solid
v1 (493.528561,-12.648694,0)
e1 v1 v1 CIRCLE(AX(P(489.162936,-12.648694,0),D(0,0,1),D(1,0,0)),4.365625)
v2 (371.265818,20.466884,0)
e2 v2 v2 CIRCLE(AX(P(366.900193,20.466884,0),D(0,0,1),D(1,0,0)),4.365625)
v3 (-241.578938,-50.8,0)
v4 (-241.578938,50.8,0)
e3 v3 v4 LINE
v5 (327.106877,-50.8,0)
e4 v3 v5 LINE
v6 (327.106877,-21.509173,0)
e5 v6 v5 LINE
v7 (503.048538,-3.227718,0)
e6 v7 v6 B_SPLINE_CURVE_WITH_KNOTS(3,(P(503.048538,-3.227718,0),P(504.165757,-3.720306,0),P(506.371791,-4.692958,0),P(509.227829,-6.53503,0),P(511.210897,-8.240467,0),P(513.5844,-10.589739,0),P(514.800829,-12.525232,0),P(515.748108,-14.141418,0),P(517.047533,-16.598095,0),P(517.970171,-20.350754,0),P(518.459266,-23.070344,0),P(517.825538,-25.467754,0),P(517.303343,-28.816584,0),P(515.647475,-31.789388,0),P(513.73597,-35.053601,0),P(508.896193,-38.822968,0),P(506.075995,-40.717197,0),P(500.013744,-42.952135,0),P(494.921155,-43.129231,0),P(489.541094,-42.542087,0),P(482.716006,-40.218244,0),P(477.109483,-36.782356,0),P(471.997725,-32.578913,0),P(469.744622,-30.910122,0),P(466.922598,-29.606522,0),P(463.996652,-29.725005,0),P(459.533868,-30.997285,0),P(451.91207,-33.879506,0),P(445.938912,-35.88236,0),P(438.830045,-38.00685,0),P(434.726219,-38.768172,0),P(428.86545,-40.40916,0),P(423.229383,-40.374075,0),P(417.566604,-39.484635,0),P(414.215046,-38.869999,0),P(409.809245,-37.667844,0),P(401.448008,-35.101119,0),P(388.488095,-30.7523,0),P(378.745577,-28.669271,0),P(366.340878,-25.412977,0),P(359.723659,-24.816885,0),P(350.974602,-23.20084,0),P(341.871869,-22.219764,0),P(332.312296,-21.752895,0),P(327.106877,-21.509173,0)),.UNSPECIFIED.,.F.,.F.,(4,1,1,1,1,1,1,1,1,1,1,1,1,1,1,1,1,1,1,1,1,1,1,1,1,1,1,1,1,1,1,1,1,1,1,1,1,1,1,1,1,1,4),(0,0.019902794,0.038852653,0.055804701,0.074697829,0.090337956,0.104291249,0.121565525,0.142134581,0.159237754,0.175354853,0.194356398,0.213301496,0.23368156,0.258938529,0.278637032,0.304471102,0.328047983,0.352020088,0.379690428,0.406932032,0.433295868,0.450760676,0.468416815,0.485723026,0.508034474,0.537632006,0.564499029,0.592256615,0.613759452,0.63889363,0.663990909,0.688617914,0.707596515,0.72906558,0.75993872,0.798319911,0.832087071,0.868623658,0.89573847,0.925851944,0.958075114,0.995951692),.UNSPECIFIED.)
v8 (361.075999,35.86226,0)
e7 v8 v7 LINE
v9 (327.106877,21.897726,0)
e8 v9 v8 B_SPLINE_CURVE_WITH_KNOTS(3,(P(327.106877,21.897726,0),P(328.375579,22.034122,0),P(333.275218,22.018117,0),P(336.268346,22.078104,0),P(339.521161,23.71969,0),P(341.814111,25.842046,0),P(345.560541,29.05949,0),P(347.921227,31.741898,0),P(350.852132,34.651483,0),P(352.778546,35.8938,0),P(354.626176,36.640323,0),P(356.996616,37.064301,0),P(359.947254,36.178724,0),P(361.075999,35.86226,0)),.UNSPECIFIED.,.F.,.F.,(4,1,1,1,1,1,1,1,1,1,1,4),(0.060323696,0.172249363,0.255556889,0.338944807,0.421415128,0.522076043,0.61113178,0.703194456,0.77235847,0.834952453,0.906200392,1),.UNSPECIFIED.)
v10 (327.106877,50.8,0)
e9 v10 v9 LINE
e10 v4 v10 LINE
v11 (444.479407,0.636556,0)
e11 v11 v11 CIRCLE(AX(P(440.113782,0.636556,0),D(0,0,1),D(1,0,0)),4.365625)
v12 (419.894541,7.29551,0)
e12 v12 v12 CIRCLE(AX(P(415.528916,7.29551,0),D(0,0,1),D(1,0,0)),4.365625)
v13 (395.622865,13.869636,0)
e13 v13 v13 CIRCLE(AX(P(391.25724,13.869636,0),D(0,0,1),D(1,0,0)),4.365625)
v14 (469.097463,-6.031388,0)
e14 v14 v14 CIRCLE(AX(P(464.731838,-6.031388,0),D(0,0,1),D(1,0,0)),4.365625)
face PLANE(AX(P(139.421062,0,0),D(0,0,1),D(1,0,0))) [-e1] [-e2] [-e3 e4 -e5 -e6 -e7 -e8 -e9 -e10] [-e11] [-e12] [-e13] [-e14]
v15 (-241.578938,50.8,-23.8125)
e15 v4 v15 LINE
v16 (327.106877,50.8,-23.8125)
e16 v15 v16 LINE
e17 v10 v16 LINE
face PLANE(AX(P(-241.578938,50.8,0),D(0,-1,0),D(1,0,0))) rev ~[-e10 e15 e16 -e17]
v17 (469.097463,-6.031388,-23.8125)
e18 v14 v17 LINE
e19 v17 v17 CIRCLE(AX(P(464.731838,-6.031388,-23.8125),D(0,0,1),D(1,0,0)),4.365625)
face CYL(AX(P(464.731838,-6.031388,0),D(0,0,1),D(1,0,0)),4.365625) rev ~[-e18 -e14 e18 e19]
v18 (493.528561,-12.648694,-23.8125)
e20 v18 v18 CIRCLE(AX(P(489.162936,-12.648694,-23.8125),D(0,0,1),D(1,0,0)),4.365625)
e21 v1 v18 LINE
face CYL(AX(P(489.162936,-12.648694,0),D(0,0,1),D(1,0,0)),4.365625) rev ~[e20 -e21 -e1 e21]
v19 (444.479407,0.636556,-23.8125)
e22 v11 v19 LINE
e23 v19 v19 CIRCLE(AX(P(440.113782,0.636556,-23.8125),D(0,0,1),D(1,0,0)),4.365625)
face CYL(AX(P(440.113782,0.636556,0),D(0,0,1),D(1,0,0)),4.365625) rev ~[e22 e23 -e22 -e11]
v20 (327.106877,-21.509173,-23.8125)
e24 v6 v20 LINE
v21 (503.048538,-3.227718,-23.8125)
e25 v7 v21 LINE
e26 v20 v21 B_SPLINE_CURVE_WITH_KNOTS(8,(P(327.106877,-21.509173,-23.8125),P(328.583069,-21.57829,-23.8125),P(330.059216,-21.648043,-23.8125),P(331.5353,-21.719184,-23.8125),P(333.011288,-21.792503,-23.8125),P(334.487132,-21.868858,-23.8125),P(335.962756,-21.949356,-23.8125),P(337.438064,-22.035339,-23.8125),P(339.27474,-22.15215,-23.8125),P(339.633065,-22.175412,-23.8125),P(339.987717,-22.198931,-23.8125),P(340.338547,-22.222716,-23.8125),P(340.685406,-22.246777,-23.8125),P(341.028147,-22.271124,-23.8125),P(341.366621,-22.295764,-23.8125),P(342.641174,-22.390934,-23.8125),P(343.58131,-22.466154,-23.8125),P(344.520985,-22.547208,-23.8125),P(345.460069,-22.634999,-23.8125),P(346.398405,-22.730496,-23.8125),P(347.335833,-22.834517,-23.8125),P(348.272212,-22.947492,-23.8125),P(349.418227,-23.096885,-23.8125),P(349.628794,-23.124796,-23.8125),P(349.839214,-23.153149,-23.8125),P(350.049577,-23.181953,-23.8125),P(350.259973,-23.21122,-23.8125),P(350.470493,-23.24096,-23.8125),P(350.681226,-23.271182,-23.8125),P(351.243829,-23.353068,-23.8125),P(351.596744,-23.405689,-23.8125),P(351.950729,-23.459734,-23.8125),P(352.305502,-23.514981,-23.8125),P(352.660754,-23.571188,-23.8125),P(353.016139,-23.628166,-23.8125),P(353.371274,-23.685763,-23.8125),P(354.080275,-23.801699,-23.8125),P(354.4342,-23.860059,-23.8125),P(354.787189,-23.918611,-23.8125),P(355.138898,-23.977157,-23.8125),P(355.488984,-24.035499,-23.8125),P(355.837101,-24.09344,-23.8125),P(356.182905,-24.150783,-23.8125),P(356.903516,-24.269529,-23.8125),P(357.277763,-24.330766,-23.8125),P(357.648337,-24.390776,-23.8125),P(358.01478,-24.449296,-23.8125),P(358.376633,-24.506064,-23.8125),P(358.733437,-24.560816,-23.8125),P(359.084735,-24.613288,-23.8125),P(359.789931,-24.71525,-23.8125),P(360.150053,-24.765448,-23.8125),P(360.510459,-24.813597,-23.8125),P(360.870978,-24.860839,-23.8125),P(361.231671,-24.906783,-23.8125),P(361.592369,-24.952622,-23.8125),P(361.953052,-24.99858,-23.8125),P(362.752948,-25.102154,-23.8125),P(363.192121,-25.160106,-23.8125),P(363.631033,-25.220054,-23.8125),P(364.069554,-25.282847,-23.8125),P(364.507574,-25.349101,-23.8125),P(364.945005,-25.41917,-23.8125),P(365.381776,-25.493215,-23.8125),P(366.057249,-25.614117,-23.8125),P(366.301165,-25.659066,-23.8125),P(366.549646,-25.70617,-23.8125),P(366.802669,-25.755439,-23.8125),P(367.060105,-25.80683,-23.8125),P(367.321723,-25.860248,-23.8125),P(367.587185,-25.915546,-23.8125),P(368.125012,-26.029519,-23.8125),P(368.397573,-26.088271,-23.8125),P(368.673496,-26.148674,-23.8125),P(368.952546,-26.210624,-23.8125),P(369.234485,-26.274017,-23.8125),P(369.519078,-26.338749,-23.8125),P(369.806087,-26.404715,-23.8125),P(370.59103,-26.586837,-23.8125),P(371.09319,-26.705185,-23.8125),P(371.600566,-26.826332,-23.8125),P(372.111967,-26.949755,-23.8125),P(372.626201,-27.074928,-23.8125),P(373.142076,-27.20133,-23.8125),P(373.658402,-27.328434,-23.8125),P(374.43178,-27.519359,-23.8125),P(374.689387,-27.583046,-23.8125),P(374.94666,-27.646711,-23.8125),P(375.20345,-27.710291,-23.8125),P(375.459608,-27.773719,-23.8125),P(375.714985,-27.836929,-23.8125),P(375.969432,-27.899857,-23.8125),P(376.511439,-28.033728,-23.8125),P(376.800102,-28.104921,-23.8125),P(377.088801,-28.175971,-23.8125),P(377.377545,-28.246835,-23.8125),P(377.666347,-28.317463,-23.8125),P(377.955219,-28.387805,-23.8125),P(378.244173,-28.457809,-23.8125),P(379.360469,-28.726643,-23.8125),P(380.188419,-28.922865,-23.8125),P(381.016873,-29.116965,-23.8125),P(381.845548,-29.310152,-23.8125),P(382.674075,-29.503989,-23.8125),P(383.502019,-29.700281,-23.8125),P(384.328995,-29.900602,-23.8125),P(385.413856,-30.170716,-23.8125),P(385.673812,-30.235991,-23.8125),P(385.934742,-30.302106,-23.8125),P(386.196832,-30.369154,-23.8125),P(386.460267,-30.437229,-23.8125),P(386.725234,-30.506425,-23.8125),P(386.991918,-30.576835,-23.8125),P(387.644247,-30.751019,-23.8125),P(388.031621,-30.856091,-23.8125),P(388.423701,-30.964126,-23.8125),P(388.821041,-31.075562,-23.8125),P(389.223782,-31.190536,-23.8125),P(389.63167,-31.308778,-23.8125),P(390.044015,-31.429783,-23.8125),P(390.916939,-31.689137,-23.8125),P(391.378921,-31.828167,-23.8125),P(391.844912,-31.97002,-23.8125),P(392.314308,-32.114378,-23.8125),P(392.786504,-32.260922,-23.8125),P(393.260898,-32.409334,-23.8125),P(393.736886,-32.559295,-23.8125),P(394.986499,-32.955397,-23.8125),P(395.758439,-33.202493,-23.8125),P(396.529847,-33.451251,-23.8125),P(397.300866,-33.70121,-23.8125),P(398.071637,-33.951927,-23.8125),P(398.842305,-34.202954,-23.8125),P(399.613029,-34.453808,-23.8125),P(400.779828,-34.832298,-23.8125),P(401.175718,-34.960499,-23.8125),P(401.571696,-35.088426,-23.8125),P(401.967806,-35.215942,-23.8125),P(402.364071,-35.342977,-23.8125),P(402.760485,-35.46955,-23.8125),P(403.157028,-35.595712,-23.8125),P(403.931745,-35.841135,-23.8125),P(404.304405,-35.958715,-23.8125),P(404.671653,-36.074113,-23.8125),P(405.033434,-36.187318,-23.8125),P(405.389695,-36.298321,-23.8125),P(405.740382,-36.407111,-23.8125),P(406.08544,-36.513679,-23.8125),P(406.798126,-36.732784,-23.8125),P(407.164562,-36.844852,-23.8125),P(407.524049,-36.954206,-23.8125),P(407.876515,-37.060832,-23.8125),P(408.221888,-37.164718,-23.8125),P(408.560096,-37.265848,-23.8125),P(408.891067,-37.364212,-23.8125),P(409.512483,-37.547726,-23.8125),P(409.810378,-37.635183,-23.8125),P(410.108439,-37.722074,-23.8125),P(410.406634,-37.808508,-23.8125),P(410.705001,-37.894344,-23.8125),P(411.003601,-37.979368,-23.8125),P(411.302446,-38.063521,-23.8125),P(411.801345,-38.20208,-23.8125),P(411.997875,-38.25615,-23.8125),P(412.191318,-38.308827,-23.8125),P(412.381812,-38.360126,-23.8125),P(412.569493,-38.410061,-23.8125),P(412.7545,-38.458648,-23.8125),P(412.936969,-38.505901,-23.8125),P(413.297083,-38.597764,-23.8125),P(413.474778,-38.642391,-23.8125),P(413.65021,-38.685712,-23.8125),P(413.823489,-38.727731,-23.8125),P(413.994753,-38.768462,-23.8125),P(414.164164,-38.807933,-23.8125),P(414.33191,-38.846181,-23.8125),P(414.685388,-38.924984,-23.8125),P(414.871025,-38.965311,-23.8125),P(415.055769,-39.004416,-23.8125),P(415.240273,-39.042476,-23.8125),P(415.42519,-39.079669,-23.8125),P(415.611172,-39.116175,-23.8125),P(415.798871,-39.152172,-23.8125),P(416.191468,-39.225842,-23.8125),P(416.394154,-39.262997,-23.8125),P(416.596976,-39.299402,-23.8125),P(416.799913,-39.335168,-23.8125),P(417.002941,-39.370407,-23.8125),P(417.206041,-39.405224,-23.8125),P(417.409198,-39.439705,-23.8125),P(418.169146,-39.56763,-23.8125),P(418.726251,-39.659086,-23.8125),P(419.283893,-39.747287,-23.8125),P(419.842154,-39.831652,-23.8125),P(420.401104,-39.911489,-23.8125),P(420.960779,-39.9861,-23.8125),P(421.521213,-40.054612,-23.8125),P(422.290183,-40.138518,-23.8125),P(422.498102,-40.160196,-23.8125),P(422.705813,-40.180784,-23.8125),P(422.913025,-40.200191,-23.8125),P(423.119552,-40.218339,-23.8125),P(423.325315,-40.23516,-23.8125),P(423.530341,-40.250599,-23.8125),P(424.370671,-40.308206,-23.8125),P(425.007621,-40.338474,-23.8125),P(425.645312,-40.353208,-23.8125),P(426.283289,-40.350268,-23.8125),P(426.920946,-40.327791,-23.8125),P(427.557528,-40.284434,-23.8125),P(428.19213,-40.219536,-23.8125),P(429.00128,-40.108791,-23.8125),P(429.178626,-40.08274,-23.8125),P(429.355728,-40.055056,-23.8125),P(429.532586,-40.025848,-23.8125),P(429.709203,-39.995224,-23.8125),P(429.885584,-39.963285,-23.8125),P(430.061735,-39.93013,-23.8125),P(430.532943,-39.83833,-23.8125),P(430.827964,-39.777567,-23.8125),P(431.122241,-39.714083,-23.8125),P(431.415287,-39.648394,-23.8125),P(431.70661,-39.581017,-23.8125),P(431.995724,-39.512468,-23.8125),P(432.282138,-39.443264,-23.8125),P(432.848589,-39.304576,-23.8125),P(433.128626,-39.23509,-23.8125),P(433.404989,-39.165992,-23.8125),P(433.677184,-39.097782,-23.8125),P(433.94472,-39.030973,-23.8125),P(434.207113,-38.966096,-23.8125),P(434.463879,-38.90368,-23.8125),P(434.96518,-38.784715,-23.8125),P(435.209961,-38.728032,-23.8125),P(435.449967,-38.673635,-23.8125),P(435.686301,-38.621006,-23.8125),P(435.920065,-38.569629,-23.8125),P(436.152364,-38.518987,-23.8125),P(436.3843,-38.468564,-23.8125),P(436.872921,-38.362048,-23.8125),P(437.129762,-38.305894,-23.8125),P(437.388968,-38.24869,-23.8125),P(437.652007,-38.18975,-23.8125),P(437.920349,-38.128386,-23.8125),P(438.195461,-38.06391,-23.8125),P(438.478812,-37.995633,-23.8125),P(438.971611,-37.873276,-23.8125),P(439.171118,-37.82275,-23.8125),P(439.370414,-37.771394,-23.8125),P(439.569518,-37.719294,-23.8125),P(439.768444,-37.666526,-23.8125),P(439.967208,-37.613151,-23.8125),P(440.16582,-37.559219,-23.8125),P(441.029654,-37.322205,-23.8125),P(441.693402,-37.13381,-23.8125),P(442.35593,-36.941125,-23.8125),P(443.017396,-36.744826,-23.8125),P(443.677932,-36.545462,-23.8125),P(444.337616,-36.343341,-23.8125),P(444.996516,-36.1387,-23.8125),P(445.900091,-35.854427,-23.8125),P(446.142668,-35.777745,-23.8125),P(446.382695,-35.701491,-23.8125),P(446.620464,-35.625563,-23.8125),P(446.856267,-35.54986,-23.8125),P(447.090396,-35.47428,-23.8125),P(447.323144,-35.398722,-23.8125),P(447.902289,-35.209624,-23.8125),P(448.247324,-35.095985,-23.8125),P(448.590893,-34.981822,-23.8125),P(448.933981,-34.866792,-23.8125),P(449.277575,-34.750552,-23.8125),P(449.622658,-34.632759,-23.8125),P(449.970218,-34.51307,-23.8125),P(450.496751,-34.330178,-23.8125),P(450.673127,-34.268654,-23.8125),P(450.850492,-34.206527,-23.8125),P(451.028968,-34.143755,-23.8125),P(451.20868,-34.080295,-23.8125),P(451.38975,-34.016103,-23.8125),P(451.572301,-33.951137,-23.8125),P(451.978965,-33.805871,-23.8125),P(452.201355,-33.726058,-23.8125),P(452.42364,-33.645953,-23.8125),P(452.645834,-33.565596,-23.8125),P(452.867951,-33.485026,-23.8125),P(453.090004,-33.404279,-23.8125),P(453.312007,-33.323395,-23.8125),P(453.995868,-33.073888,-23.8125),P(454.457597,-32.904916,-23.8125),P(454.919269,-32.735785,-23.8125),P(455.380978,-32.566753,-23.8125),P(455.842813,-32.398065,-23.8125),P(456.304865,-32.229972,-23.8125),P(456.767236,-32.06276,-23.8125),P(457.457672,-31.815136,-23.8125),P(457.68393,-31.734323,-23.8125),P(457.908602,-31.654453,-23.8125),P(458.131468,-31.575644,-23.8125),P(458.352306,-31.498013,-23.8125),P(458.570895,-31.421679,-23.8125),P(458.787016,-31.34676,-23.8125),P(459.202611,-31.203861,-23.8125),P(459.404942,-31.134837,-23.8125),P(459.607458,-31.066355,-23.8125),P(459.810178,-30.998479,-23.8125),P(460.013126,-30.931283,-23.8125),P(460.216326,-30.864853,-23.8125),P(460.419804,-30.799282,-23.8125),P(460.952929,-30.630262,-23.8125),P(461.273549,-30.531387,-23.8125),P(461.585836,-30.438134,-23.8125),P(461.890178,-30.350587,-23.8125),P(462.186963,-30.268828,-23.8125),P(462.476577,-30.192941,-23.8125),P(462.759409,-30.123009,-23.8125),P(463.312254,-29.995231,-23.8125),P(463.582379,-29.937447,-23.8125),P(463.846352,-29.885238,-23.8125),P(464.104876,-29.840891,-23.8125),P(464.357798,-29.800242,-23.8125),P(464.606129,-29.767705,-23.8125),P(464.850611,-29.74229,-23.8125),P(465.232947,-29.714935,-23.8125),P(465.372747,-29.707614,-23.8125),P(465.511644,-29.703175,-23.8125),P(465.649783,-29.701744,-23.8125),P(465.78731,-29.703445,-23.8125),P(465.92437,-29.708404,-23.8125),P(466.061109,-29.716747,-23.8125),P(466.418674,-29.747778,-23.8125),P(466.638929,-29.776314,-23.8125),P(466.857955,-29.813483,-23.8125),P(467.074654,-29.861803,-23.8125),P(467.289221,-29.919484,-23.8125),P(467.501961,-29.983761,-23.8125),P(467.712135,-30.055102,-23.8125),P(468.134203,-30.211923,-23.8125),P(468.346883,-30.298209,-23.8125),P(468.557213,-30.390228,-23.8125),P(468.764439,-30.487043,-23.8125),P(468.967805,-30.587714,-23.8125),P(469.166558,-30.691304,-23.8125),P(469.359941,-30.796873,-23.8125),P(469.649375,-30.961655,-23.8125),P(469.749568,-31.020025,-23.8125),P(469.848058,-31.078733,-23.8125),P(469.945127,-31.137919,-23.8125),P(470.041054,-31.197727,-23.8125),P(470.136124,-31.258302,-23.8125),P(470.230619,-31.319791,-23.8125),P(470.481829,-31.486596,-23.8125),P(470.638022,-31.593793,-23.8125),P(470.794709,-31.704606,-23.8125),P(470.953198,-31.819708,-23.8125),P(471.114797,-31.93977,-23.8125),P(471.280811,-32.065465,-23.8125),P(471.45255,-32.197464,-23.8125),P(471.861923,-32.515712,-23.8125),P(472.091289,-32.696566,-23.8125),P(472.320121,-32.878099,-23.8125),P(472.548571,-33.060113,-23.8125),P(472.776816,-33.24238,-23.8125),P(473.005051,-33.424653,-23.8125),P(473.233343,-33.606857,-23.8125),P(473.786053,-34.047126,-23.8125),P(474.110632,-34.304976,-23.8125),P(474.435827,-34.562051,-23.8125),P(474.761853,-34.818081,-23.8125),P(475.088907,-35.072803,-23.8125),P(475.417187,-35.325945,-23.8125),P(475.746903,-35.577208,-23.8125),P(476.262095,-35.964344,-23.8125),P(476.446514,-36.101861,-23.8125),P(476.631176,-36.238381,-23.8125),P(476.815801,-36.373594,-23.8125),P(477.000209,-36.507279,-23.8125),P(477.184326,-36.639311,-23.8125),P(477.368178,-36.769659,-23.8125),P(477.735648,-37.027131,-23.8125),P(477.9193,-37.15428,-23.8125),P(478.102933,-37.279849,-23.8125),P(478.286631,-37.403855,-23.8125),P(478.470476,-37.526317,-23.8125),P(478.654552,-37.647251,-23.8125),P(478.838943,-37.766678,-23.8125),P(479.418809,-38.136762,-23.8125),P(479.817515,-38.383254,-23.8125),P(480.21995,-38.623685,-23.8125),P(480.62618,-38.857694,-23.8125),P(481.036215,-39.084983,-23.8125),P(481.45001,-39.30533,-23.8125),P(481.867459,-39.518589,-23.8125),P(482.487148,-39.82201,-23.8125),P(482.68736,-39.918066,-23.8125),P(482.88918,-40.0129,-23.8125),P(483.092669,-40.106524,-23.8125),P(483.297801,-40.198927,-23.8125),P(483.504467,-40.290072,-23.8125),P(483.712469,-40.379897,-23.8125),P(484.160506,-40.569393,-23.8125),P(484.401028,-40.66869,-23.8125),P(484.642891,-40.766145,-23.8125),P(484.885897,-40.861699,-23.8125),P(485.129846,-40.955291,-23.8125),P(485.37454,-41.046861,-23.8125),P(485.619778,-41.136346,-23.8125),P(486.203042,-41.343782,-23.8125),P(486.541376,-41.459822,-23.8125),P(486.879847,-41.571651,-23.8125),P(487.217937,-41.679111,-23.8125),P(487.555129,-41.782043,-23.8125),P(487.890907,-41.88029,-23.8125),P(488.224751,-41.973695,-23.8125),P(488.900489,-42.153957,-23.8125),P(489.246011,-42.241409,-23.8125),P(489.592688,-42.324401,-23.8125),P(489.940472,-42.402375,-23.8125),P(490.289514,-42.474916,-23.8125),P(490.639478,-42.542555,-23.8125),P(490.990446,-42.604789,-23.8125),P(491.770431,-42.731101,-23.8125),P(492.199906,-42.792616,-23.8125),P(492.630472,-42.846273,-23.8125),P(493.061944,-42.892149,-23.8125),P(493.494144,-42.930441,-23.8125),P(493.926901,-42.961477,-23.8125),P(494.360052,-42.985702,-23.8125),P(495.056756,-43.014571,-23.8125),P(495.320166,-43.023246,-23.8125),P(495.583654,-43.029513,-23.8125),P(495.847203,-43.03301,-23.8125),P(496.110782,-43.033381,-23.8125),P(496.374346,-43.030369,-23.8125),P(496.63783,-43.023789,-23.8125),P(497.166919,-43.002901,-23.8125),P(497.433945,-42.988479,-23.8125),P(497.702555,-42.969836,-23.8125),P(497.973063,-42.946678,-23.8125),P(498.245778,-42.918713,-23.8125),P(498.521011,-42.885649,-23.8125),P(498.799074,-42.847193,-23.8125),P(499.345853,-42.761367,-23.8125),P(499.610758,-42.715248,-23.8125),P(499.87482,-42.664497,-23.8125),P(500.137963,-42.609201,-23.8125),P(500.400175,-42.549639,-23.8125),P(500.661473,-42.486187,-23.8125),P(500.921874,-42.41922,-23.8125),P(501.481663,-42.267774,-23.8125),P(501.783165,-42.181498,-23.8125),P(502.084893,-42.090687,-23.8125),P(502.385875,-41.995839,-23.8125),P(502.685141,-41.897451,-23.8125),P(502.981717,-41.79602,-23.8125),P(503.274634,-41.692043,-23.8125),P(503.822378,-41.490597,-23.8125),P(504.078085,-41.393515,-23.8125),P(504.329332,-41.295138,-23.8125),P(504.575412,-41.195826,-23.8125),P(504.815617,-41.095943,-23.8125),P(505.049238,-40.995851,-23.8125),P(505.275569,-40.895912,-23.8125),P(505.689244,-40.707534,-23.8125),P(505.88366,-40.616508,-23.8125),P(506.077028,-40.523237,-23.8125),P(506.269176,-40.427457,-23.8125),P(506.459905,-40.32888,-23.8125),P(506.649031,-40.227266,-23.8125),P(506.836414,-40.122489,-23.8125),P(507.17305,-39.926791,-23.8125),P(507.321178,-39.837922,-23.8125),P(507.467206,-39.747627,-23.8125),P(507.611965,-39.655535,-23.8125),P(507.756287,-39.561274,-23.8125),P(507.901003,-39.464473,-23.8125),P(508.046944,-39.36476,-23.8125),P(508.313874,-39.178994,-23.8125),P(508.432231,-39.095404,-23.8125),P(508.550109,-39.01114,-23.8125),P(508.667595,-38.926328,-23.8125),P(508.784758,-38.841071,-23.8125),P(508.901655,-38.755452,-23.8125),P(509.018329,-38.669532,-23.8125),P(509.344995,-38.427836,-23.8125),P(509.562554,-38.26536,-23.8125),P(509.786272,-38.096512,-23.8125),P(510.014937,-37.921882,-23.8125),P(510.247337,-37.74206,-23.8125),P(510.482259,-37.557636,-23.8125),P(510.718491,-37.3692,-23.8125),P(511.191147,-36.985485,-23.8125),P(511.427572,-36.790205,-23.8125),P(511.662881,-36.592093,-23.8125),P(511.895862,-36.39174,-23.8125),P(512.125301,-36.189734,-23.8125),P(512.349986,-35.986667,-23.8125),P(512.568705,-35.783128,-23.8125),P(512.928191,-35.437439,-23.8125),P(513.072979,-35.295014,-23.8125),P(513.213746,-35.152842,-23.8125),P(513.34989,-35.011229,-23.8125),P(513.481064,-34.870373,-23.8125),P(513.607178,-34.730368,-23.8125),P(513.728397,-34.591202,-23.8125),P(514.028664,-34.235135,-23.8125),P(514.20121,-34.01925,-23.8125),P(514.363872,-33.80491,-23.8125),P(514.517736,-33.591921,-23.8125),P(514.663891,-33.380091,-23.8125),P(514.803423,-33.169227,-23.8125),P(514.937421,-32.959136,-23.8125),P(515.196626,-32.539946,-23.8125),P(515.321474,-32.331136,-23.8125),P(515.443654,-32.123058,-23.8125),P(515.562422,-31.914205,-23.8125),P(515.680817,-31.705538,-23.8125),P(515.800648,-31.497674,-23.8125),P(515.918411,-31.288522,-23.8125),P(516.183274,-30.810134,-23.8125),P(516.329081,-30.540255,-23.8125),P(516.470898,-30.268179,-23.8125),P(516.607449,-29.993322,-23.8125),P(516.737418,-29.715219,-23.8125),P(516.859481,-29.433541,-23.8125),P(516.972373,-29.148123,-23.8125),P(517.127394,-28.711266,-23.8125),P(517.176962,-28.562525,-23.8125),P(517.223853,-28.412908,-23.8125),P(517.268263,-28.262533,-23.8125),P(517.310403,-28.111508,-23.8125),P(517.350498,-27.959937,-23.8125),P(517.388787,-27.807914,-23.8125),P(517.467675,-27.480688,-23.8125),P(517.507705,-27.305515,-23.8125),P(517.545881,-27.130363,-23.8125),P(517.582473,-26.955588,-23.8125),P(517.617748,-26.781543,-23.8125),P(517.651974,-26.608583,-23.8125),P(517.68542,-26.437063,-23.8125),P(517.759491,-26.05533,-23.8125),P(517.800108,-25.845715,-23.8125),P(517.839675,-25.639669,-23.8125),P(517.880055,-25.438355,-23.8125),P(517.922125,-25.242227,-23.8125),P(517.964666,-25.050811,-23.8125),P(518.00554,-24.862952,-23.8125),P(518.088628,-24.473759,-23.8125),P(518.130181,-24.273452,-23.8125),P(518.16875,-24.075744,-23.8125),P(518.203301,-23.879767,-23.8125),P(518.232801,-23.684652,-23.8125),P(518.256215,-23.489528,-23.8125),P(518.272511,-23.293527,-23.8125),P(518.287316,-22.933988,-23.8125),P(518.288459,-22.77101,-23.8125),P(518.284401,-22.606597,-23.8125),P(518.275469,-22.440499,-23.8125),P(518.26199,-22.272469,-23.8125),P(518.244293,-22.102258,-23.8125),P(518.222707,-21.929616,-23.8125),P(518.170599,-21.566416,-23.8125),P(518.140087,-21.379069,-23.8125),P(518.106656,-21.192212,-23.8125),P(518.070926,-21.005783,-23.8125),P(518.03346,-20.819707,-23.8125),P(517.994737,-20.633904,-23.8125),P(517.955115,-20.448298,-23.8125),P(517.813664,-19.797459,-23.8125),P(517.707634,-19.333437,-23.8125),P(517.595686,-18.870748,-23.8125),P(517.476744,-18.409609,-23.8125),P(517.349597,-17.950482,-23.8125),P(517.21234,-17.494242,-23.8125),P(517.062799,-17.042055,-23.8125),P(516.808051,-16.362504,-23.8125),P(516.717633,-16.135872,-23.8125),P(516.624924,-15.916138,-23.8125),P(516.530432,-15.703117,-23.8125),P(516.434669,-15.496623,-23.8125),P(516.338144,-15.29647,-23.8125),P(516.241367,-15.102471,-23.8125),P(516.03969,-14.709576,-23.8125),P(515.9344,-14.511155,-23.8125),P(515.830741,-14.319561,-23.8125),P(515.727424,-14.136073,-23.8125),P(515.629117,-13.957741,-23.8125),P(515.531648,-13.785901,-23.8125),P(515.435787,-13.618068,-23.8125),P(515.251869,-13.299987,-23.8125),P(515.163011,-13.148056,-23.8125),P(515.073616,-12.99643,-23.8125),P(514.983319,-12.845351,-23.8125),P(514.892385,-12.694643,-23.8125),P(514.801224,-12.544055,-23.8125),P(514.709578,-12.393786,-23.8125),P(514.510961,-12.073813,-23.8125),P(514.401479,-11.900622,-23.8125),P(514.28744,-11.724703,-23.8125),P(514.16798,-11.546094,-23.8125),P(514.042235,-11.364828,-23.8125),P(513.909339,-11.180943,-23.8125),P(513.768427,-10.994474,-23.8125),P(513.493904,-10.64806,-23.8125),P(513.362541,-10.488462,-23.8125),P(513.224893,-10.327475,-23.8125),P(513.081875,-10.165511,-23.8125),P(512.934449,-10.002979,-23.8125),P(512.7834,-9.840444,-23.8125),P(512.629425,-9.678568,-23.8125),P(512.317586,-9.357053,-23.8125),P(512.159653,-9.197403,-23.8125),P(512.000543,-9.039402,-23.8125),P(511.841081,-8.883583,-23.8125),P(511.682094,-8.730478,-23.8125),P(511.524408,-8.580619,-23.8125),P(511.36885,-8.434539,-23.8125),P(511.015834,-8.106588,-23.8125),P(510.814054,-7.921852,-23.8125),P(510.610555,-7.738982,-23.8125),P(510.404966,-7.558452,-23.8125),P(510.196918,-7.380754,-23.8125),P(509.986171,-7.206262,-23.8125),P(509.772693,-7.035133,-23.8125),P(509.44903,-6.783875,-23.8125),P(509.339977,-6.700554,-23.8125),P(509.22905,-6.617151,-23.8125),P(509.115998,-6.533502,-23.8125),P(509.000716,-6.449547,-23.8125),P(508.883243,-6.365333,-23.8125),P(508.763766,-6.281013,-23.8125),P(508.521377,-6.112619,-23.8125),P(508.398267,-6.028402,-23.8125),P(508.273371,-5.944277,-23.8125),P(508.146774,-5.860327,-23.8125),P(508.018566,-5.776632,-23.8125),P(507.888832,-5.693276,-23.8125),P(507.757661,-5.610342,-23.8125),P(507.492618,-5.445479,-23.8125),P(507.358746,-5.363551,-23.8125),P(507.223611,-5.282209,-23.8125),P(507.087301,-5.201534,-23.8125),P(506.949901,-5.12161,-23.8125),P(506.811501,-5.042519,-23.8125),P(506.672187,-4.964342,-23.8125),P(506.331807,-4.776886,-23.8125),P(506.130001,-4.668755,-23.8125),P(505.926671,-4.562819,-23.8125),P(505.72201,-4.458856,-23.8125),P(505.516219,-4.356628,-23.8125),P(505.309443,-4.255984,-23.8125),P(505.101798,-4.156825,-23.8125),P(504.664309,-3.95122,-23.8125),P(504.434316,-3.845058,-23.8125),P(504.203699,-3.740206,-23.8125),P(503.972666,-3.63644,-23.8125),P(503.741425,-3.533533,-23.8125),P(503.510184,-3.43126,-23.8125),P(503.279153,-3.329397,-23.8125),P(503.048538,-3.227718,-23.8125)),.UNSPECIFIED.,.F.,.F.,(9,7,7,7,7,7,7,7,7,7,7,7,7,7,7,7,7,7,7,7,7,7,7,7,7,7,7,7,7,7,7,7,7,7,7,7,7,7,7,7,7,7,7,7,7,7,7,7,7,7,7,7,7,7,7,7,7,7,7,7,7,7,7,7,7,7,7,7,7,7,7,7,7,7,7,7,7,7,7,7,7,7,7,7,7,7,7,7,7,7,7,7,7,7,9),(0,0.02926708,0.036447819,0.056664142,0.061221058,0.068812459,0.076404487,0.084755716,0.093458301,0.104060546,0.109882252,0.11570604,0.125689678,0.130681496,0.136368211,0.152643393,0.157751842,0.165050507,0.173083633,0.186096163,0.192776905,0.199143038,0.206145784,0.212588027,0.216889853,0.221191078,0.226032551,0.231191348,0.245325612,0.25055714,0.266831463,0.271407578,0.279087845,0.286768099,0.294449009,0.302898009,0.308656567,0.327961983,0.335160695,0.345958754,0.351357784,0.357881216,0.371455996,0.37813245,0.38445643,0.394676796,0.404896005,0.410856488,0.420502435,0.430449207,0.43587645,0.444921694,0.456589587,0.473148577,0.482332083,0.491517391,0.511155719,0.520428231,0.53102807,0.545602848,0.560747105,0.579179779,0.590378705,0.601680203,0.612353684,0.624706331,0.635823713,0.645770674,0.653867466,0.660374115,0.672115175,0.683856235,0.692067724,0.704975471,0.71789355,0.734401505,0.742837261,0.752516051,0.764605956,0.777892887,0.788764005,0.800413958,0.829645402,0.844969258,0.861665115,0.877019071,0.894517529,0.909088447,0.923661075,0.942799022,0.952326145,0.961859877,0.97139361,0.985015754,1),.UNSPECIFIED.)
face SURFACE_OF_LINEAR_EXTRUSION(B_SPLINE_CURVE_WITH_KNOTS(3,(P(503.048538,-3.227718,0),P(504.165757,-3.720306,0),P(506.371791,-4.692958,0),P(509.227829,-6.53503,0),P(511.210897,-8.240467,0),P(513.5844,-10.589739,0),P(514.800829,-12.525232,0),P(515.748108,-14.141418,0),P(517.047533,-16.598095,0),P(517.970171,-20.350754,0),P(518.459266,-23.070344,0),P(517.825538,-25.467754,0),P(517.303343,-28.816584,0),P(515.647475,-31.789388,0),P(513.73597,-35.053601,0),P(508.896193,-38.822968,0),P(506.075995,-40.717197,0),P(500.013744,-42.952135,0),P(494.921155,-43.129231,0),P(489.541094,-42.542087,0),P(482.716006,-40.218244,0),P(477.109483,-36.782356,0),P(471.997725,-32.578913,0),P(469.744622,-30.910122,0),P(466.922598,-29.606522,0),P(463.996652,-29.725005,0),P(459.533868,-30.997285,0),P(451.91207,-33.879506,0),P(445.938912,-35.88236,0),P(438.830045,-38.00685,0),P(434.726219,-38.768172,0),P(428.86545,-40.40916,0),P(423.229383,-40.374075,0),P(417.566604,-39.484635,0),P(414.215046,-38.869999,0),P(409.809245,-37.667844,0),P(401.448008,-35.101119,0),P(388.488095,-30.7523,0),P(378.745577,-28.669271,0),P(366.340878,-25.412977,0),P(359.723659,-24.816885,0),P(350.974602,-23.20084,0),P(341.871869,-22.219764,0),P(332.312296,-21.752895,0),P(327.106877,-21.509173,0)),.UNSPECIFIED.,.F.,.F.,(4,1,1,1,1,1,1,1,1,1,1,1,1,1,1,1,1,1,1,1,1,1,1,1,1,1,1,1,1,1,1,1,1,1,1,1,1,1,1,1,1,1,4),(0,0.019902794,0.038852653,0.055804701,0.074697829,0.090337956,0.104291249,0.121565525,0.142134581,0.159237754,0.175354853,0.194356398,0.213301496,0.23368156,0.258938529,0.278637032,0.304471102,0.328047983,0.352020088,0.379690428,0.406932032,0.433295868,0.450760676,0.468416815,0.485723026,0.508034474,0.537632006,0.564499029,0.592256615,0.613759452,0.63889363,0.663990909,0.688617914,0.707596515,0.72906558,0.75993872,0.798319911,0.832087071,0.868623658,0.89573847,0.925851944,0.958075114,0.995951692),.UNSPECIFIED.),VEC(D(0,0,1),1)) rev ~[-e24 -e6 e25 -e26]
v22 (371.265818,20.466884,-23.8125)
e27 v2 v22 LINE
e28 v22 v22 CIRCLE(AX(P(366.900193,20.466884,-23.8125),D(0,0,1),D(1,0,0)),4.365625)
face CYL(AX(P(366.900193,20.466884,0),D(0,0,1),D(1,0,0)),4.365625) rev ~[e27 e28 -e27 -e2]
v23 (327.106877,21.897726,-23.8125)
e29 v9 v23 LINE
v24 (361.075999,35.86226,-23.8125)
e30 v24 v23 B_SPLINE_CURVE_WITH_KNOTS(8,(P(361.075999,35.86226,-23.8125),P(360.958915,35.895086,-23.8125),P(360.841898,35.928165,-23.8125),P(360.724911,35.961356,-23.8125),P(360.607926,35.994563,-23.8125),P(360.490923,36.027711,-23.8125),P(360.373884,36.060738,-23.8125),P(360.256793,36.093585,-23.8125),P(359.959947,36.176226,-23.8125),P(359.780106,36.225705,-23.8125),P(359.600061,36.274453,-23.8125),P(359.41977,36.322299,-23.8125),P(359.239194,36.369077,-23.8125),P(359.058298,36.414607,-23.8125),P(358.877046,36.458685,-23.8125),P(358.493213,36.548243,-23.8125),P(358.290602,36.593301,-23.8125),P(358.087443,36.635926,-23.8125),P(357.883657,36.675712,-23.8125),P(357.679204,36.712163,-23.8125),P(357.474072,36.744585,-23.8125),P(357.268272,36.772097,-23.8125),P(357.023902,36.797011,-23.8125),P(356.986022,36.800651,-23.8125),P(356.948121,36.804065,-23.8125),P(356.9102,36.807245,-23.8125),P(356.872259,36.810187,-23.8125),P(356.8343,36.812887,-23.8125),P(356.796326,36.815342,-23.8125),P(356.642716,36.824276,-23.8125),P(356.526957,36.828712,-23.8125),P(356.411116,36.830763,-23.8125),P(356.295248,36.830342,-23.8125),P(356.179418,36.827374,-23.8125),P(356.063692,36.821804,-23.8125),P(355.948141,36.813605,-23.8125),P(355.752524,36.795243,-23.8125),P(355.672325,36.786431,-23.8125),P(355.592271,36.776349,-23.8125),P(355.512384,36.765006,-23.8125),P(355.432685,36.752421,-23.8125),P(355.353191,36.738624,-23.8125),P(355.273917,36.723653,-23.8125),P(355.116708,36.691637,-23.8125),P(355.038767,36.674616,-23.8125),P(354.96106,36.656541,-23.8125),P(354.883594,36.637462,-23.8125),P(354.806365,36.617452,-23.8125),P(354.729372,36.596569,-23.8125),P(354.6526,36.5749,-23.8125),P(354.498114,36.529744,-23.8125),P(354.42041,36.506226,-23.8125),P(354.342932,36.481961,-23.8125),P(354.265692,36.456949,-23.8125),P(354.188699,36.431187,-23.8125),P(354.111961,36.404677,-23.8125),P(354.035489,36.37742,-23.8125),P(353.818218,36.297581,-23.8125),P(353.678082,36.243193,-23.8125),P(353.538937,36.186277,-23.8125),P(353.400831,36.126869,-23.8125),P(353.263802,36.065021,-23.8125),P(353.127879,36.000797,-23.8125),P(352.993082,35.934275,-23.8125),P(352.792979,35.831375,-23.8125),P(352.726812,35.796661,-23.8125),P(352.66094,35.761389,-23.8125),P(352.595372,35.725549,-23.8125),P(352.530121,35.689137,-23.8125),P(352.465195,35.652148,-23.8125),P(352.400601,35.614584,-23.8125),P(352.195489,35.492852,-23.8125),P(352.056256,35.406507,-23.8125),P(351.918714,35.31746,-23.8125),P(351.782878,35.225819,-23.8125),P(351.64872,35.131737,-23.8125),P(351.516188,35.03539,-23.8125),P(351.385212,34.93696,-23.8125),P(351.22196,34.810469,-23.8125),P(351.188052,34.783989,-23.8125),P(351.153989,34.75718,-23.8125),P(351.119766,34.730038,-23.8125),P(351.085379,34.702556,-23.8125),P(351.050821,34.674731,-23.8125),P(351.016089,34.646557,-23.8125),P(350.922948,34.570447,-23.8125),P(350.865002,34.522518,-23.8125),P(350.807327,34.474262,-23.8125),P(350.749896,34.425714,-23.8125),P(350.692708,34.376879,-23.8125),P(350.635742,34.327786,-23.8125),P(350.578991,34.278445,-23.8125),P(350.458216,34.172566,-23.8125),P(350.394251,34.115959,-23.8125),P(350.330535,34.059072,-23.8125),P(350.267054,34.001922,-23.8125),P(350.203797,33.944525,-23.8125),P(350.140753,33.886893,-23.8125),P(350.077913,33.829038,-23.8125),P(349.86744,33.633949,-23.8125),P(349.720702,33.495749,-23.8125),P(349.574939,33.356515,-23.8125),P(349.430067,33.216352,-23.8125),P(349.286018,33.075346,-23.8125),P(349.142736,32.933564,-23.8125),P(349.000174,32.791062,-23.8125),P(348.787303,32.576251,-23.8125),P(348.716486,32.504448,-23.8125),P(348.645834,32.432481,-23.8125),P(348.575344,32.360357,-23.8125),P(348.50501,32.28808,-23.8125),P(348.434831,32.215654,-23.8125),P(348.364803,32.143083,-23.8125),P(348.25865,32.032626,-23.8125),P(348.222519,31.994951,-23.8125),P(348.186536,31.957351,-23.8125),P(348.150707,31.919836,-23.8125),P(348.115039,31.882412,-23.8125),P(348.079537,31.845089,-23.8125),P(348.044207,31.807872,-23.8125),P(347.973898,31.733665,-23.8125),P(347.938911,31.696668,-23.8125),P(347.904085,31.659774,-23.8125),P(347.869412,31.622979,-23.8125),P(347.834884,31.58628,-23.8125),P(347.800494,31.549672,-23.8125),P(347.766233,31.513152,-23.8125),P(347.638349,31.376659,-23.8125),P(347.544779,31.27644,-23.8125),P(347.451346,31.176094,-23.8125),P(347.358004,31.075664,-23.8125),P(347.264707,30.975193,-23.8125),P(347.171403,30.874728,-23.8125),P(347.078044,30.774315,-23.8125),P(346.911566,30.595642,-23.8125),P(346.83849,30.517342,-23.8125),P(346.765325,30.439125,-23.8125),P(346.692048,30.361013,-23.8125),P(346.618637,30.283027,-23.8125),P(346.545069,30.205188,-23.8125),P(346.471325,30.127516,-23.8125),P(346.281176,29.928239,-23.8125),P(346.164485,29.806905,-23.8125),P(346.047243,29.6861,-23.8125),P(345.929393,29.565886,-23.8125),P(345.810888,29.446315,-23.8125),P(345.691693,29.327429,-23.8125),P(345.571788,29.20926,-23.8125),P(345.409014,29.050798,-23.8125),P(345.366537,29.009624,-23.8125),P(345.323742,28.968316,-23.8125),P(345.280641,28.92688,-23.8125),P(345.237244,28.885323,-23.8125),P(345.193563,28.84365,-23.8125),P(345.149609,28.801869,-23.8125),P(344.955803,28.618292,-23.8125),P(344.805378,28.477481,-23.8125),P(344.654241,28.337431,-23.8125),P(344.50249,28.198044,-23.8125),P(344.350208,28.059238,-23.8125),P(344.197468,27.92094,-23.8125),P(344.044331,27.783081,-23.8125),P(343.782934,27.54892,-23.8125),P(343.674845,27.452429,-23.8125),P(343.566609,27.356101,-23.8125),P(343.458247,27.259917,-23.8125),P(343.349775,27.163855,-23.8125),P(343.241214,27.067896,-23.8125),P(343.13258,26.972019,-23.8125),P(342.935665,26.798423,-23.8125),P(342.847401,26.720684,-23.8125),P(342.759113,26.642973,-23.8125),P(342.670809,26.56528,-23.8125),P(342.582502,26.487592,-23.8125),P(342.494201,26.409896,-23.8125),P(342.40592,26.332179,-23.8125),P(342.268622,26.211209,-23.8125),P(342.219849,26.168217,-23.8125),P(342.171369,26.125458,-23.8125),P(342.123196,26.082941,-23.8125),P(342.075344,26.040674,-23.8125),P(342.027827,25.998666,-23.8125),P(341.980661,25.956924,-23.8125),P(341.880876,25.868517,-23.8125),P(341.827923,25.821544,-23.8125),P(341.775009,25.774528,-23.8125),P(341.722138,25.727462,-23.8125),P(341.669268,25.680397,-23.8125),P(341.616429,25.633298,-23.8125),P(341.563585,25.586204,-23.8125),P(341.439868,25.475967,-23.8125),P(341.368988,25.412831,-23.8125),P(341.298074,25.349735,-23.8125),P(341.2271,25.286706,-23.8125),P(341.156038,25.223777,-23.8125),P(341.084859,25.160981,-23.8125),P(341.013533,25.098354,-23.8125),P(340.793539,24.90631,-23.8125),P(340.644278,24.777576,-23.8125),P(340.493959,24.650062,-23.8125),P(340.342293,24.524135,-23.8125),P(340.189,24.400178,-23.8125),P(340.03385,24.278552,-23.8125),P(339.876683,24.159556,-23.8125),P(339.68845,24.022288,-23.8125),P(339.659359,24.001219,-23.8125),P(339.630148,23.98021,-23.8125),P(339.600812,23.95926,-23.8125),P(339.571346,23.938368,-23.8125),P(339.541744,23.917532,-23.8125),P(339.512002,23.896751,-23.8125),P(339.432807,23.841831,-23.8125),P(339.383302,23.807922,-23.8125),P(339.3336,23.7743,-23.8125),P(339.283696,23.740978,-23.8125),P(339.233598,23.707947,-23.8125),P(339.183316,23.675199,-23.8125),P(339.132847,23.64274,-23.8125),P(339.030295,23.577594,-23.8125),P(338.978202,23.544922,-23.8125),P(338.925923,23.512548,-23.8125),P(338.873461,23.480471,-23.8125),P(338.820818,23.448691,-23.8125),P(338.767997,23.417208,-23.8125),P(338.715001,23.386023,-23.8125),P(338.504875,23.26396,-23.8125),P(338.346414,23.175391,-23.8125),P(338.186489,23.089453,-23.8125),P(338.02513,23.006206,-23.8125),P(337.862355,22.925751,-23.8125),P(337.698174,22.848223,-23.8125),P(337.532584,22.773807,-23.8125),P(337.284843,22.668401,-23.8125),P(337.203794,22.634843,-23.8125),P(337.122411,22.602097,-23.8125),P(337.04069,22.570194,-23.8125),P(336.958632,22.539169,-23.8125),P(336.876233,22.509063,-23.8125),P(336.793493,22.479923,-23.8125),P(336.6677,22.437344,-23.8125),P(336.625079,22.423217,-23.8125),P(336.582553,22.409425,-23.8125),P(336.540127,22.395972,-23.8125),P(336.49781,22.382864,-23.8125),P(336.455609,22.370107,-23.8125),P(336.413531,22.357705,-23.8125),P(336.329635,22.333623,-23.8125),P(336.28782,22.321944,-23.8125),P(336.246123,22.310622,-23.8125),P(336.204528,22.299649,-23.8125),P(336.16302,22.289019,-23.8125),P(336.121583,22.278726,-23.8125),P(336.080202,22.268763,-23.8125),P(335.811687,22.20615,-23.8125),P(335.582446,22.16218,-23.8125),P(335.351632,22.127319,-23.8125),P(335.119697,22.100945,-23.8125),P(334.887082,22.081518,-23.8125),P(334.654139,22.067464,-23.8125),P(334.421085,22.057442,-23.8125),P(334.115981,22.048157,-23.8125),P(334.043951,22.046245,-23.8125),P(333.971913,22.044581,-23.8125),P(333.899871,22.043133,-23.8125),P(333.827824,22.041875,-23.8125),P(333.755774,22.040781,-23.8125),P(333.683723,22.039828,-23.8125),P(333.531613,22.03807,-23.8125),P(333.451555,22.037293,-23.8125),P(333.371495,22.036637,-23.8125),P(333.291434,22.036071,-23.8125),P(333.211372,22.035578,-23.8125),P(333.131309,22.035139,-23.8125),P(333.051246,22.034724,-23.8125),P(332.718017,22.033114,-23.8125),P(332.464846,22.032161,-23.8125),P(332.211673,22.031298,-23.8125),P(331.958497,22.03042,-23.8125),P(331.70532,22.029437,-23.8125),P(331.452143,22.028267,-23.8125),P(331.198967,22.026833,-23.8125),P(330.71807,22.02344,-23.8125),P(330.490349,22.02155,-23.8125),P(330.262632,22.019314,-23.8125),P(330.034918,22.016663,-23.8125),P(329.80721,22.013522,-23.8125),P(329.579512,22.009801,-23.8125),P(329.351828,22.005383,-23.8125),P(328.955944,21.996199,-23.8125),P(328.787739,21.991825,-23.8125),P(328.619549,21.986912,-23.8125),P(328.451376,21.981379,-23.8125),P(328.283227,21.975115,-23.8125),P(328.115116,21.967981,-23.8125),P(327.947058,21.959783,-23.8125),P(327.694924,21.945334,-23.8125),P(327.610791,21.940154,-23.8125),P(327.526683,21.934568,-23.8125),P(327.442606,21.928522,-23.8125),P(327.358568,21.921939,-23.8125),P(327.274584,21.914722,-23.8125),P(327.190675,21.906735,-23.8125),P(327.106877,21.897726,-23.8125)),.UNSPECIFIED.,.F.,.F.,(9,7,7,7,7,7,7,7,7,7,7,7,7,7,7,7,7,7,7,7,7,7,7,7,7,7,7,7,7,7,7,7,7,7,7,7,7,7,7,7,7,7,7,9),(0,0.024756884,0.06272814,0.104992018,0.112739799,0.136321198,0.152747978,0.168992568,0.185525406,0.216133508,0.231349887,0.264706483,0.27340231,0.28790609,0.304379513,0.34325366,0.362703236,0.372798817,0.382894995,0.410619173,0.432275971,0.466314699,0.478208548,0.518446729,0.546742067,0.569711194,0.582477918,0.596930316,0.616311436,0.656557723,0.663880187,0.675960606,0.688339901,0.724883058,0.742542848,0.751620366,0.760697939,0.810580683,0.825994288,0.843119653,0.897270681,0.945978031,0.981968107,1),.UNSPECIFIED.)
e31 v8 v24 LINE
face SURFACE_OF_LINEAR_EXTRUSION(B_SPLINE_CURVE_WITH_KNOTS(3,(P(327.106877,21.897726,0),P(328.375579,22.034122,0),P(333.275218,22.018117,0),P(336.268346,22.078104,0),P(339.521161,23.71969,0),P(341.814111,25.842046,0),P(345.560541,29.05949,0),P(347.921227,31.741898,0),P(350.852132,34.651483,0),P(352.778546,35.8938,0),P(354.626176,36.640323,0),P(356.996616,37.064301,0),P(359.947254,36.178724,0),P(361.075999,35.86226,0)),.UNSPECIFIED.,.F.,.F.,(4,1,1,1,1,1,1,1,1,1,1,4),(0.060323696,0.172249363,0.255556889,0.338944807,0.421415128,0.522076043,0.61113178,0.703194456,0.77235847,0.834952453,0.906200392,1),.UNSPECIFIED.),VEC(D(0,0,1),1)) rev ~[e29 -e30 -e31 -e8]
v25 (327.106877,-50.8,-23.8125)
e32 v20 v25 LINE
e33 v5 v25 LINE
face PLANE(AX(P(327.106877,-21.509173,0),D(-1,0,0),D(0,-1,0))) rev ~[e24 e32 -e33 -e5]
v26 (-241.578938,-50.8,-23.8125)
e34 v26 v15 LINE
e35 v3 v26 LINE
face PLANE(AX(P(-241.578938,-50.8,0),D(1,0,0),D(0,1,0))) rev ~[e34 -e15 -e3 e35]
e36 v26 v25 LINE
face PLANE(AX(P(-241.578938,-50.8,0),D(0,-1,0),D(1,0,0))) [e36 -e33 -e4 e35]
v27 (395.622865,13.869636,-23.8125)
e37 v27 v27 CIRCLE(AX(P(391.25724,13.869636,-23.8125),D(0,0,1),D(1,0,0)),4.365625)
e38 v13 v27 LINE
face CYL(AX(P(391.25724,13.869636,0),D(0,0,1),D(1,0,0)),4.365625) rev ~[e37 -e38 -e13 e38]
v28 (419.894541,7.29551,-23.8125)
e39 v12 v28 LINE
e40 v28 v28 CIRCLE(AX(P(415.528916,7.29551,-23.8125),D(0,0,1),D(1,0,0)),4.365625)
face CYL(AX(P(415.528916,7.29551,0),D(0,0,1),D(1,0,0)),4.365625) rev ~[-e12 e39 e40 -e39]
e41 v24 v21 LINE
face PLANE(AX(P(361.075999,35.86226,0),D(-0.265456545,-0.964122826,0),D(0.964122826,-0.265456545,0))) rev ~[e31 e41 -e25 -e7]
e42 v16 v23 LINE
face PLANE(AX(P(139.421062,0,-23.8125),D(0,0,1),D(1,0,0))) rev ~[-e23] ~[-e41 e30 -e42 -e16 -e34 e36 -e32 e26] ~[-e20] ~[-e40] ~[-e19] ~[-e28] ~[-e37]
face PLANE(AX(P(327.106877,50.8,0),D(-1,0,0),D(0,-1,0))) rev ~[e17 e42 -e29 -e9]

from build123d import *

# Parameters (mm, degrees)
F1_W      = 762
F1_H      = 101.6
F2_DEPTH  = 23.8125
F3_R      = 4.365625
F2_FACE_W = 762
F2_FACE_H = 101.6
F4_DEPTH  = 23.8135


with BuildPart() as f2:
    # F1 (on Top) → F2 (new body)
    with BuildSketch(Plane.XY):
        with Locations((139.4210623833, 0)):
            Rectangle(F1_W, F1_H)
    extrude(amount=-F2_DEPTH)

    # F3 (on Top) + F2_face (on face) → F4 (cut, through all)
    with BuildSketch(Plane.XY):
        with BuildLine():
            Line((327.1068770885, 50.8), (327.1068770885, 21.8977257609))
            add(Edge.make_bspline(
                [(327.1068770885, 21.8977257609), (328.3755791597, 22.0341216457), (333.2752182992, 22.0181172764), (336.2683457979, 22.0781041305), (339.5211605184, 23.7196902271), (341.8141105212, 25.8420464061), (345.560540975, 29.0594898472), (347.9212265564, 31.7418984335), (350.8521319073, 34.6514827477), (352.7785456091, 35.893800344), (354.626175997, 36.6403228719), (356.9966157679, 37.0643012496), (359.9472536313, 36.178723734), (361.0759986762, 35.8622595668)],
                knots=[0.0603236957, 0.0603236957, 0.0603236957, 0.0603236957, 0.1722493633, 0.2555568895, 0.3389448066, 0.4214151276, 0.5220760426, 0.6111317796, 0.7031944558, 0.7723584699, 0.8349524532, 0.9062003923, 1, 1, 1, 1], degree=3))
            Line((361.0759986762, 35.8622595668), (503.0485380888, -3.2277181745))
            add(Edge.make_bspline(
                [(503.0485380888, -3.2277181745), (504.1657573068, -3.7203060891), (506.3717906058, -4.6929579419), (509.2278286925, -6.535029535), (511.2108971555, -8.2404671793), (513.5844003254, -10.5897385496), (514.8008285797, -12.5252315139), (515.7481080454, -14.1414184699), (517.0475329375, -16.5980950912), (517.9701713375, -20.3507542333), (518.4592657753, -23.0703442396), (517.8255383124, -25.467753776), (517.3033428708, -28.8165838005), (515.6474746918, -31.7893880615), (513.7359700753, -35.0536005194), (508.8961934509, -38.8229679748), (506.0759952783, -40.7171974817), (500.0137438387, -42.952135176), (494.9211553077, -43.1292310719), (489.5410944392, -42.5420874063), (482.7160063107, -40.2182440912), (477.1094829828, -36.7823560204), (471.9977250564, -32.5789125723), (469.7446220357, -30.9101218132), (466.9225977673, -29.6065222301), (463.9966520894, -29.7250048782), (459.5338680021, -30.9972845062), (451.9120704765, -33.8795058004), (445.9389116089, -35.8823596927), (438.830044964, -38.0068499738), (434.7262194274, -38.7681717134), (428.8654503526, -40.4091595223), (423.2293828733, -40.3740745579), (417.5666039339, -39.4846346883), (414.2150455876, -38.8699992263), (409.8092452668, -37.6678443433), (401.4480083391, -35.1011190112), (388.4880949666, -30.7522999871), (378.7455774288, -28.6692707009), (366.3408776472, -25.412976893), (359.7236594235, -24.8168849109), (350.9746016408, -23.2008404114), (341.8718686474, -22.219764461), (332.3122961095, -21.7528947604), (327.1068770885, -21.5091731632)],
                knots=[0, 0, 0, 0, 0.0199027936, 0.0388526525, 0.0558047007, 0.074697829, 0.0903379562, 0.1042912493, 0.1215655254, 0.1421345811, 0.1592377538, 0.1753548526, 0.1943563977, 0.2133014961, 0.2336815602, 0.2589385292, 0.2786370315, 0.3044711021, 0.3280479825, 0.3520200885, 0.379690428, 0.4069320315, 0.4332958677, 0.4507606764, 0.4684168149, 0.4857230256, 0.508034474, 0.5376320065, 0.5644990294, 0.5922566155, 0.6137594518, 0.6388936303, 0.6639909093, 0.6886179143, 0.7075965151, 0.7290655802, 0.7599387204, 0.7983199112, 0.832087071, 0.8686236583, 0.8957384699, 0.9258519444, 0.9580751142, 0.9959516923, 0.9959516923, 0.9959516923, 0.9959516923], degree=3))
            Line((327.1068770885, -21.5091731632), (327.1068770885, -50.8))
            Line((327.1068770885, -50.8), (520.4210623833, -50.8))
            Line((520.4210623833, -50.8), (520.4210623833, 50.8))
            Line((520.4210623833, 50.8), (327.1068770885, 50.8))
        make_face()
        with Locations((489.1629357338, -12.6486942172)):
            Circle(F3_R)
        with Locations((464.7318375067, -6.0313884352)):
            Circle(F3_R)
        with Locations((440.1137821084, 0.6365557895)):
            Circle(F3_R)
        with Locations((415.5289160746, 7.2955104809)):
            Circle(F3_R)
        with Locations((391.2572402954, 13.8696357608)):
            Circle(F3_R)
        with Locations((366.9001932867, 20.4668843373)):
            Circle(F3_R)
    with BuildSketch(Plane(origin=(139.4210623833, 0, -23.8125), x_dir=(1, 0, 0), z_dir=(0, 0, -1))):
        Rectangle(F2_FACE_W, F2_FACE_H)
    extrude(amount=-F4_DEPTH, dir=(0, 0, 1), mode=Mode.SUBTRACT)


solid = f2.part
